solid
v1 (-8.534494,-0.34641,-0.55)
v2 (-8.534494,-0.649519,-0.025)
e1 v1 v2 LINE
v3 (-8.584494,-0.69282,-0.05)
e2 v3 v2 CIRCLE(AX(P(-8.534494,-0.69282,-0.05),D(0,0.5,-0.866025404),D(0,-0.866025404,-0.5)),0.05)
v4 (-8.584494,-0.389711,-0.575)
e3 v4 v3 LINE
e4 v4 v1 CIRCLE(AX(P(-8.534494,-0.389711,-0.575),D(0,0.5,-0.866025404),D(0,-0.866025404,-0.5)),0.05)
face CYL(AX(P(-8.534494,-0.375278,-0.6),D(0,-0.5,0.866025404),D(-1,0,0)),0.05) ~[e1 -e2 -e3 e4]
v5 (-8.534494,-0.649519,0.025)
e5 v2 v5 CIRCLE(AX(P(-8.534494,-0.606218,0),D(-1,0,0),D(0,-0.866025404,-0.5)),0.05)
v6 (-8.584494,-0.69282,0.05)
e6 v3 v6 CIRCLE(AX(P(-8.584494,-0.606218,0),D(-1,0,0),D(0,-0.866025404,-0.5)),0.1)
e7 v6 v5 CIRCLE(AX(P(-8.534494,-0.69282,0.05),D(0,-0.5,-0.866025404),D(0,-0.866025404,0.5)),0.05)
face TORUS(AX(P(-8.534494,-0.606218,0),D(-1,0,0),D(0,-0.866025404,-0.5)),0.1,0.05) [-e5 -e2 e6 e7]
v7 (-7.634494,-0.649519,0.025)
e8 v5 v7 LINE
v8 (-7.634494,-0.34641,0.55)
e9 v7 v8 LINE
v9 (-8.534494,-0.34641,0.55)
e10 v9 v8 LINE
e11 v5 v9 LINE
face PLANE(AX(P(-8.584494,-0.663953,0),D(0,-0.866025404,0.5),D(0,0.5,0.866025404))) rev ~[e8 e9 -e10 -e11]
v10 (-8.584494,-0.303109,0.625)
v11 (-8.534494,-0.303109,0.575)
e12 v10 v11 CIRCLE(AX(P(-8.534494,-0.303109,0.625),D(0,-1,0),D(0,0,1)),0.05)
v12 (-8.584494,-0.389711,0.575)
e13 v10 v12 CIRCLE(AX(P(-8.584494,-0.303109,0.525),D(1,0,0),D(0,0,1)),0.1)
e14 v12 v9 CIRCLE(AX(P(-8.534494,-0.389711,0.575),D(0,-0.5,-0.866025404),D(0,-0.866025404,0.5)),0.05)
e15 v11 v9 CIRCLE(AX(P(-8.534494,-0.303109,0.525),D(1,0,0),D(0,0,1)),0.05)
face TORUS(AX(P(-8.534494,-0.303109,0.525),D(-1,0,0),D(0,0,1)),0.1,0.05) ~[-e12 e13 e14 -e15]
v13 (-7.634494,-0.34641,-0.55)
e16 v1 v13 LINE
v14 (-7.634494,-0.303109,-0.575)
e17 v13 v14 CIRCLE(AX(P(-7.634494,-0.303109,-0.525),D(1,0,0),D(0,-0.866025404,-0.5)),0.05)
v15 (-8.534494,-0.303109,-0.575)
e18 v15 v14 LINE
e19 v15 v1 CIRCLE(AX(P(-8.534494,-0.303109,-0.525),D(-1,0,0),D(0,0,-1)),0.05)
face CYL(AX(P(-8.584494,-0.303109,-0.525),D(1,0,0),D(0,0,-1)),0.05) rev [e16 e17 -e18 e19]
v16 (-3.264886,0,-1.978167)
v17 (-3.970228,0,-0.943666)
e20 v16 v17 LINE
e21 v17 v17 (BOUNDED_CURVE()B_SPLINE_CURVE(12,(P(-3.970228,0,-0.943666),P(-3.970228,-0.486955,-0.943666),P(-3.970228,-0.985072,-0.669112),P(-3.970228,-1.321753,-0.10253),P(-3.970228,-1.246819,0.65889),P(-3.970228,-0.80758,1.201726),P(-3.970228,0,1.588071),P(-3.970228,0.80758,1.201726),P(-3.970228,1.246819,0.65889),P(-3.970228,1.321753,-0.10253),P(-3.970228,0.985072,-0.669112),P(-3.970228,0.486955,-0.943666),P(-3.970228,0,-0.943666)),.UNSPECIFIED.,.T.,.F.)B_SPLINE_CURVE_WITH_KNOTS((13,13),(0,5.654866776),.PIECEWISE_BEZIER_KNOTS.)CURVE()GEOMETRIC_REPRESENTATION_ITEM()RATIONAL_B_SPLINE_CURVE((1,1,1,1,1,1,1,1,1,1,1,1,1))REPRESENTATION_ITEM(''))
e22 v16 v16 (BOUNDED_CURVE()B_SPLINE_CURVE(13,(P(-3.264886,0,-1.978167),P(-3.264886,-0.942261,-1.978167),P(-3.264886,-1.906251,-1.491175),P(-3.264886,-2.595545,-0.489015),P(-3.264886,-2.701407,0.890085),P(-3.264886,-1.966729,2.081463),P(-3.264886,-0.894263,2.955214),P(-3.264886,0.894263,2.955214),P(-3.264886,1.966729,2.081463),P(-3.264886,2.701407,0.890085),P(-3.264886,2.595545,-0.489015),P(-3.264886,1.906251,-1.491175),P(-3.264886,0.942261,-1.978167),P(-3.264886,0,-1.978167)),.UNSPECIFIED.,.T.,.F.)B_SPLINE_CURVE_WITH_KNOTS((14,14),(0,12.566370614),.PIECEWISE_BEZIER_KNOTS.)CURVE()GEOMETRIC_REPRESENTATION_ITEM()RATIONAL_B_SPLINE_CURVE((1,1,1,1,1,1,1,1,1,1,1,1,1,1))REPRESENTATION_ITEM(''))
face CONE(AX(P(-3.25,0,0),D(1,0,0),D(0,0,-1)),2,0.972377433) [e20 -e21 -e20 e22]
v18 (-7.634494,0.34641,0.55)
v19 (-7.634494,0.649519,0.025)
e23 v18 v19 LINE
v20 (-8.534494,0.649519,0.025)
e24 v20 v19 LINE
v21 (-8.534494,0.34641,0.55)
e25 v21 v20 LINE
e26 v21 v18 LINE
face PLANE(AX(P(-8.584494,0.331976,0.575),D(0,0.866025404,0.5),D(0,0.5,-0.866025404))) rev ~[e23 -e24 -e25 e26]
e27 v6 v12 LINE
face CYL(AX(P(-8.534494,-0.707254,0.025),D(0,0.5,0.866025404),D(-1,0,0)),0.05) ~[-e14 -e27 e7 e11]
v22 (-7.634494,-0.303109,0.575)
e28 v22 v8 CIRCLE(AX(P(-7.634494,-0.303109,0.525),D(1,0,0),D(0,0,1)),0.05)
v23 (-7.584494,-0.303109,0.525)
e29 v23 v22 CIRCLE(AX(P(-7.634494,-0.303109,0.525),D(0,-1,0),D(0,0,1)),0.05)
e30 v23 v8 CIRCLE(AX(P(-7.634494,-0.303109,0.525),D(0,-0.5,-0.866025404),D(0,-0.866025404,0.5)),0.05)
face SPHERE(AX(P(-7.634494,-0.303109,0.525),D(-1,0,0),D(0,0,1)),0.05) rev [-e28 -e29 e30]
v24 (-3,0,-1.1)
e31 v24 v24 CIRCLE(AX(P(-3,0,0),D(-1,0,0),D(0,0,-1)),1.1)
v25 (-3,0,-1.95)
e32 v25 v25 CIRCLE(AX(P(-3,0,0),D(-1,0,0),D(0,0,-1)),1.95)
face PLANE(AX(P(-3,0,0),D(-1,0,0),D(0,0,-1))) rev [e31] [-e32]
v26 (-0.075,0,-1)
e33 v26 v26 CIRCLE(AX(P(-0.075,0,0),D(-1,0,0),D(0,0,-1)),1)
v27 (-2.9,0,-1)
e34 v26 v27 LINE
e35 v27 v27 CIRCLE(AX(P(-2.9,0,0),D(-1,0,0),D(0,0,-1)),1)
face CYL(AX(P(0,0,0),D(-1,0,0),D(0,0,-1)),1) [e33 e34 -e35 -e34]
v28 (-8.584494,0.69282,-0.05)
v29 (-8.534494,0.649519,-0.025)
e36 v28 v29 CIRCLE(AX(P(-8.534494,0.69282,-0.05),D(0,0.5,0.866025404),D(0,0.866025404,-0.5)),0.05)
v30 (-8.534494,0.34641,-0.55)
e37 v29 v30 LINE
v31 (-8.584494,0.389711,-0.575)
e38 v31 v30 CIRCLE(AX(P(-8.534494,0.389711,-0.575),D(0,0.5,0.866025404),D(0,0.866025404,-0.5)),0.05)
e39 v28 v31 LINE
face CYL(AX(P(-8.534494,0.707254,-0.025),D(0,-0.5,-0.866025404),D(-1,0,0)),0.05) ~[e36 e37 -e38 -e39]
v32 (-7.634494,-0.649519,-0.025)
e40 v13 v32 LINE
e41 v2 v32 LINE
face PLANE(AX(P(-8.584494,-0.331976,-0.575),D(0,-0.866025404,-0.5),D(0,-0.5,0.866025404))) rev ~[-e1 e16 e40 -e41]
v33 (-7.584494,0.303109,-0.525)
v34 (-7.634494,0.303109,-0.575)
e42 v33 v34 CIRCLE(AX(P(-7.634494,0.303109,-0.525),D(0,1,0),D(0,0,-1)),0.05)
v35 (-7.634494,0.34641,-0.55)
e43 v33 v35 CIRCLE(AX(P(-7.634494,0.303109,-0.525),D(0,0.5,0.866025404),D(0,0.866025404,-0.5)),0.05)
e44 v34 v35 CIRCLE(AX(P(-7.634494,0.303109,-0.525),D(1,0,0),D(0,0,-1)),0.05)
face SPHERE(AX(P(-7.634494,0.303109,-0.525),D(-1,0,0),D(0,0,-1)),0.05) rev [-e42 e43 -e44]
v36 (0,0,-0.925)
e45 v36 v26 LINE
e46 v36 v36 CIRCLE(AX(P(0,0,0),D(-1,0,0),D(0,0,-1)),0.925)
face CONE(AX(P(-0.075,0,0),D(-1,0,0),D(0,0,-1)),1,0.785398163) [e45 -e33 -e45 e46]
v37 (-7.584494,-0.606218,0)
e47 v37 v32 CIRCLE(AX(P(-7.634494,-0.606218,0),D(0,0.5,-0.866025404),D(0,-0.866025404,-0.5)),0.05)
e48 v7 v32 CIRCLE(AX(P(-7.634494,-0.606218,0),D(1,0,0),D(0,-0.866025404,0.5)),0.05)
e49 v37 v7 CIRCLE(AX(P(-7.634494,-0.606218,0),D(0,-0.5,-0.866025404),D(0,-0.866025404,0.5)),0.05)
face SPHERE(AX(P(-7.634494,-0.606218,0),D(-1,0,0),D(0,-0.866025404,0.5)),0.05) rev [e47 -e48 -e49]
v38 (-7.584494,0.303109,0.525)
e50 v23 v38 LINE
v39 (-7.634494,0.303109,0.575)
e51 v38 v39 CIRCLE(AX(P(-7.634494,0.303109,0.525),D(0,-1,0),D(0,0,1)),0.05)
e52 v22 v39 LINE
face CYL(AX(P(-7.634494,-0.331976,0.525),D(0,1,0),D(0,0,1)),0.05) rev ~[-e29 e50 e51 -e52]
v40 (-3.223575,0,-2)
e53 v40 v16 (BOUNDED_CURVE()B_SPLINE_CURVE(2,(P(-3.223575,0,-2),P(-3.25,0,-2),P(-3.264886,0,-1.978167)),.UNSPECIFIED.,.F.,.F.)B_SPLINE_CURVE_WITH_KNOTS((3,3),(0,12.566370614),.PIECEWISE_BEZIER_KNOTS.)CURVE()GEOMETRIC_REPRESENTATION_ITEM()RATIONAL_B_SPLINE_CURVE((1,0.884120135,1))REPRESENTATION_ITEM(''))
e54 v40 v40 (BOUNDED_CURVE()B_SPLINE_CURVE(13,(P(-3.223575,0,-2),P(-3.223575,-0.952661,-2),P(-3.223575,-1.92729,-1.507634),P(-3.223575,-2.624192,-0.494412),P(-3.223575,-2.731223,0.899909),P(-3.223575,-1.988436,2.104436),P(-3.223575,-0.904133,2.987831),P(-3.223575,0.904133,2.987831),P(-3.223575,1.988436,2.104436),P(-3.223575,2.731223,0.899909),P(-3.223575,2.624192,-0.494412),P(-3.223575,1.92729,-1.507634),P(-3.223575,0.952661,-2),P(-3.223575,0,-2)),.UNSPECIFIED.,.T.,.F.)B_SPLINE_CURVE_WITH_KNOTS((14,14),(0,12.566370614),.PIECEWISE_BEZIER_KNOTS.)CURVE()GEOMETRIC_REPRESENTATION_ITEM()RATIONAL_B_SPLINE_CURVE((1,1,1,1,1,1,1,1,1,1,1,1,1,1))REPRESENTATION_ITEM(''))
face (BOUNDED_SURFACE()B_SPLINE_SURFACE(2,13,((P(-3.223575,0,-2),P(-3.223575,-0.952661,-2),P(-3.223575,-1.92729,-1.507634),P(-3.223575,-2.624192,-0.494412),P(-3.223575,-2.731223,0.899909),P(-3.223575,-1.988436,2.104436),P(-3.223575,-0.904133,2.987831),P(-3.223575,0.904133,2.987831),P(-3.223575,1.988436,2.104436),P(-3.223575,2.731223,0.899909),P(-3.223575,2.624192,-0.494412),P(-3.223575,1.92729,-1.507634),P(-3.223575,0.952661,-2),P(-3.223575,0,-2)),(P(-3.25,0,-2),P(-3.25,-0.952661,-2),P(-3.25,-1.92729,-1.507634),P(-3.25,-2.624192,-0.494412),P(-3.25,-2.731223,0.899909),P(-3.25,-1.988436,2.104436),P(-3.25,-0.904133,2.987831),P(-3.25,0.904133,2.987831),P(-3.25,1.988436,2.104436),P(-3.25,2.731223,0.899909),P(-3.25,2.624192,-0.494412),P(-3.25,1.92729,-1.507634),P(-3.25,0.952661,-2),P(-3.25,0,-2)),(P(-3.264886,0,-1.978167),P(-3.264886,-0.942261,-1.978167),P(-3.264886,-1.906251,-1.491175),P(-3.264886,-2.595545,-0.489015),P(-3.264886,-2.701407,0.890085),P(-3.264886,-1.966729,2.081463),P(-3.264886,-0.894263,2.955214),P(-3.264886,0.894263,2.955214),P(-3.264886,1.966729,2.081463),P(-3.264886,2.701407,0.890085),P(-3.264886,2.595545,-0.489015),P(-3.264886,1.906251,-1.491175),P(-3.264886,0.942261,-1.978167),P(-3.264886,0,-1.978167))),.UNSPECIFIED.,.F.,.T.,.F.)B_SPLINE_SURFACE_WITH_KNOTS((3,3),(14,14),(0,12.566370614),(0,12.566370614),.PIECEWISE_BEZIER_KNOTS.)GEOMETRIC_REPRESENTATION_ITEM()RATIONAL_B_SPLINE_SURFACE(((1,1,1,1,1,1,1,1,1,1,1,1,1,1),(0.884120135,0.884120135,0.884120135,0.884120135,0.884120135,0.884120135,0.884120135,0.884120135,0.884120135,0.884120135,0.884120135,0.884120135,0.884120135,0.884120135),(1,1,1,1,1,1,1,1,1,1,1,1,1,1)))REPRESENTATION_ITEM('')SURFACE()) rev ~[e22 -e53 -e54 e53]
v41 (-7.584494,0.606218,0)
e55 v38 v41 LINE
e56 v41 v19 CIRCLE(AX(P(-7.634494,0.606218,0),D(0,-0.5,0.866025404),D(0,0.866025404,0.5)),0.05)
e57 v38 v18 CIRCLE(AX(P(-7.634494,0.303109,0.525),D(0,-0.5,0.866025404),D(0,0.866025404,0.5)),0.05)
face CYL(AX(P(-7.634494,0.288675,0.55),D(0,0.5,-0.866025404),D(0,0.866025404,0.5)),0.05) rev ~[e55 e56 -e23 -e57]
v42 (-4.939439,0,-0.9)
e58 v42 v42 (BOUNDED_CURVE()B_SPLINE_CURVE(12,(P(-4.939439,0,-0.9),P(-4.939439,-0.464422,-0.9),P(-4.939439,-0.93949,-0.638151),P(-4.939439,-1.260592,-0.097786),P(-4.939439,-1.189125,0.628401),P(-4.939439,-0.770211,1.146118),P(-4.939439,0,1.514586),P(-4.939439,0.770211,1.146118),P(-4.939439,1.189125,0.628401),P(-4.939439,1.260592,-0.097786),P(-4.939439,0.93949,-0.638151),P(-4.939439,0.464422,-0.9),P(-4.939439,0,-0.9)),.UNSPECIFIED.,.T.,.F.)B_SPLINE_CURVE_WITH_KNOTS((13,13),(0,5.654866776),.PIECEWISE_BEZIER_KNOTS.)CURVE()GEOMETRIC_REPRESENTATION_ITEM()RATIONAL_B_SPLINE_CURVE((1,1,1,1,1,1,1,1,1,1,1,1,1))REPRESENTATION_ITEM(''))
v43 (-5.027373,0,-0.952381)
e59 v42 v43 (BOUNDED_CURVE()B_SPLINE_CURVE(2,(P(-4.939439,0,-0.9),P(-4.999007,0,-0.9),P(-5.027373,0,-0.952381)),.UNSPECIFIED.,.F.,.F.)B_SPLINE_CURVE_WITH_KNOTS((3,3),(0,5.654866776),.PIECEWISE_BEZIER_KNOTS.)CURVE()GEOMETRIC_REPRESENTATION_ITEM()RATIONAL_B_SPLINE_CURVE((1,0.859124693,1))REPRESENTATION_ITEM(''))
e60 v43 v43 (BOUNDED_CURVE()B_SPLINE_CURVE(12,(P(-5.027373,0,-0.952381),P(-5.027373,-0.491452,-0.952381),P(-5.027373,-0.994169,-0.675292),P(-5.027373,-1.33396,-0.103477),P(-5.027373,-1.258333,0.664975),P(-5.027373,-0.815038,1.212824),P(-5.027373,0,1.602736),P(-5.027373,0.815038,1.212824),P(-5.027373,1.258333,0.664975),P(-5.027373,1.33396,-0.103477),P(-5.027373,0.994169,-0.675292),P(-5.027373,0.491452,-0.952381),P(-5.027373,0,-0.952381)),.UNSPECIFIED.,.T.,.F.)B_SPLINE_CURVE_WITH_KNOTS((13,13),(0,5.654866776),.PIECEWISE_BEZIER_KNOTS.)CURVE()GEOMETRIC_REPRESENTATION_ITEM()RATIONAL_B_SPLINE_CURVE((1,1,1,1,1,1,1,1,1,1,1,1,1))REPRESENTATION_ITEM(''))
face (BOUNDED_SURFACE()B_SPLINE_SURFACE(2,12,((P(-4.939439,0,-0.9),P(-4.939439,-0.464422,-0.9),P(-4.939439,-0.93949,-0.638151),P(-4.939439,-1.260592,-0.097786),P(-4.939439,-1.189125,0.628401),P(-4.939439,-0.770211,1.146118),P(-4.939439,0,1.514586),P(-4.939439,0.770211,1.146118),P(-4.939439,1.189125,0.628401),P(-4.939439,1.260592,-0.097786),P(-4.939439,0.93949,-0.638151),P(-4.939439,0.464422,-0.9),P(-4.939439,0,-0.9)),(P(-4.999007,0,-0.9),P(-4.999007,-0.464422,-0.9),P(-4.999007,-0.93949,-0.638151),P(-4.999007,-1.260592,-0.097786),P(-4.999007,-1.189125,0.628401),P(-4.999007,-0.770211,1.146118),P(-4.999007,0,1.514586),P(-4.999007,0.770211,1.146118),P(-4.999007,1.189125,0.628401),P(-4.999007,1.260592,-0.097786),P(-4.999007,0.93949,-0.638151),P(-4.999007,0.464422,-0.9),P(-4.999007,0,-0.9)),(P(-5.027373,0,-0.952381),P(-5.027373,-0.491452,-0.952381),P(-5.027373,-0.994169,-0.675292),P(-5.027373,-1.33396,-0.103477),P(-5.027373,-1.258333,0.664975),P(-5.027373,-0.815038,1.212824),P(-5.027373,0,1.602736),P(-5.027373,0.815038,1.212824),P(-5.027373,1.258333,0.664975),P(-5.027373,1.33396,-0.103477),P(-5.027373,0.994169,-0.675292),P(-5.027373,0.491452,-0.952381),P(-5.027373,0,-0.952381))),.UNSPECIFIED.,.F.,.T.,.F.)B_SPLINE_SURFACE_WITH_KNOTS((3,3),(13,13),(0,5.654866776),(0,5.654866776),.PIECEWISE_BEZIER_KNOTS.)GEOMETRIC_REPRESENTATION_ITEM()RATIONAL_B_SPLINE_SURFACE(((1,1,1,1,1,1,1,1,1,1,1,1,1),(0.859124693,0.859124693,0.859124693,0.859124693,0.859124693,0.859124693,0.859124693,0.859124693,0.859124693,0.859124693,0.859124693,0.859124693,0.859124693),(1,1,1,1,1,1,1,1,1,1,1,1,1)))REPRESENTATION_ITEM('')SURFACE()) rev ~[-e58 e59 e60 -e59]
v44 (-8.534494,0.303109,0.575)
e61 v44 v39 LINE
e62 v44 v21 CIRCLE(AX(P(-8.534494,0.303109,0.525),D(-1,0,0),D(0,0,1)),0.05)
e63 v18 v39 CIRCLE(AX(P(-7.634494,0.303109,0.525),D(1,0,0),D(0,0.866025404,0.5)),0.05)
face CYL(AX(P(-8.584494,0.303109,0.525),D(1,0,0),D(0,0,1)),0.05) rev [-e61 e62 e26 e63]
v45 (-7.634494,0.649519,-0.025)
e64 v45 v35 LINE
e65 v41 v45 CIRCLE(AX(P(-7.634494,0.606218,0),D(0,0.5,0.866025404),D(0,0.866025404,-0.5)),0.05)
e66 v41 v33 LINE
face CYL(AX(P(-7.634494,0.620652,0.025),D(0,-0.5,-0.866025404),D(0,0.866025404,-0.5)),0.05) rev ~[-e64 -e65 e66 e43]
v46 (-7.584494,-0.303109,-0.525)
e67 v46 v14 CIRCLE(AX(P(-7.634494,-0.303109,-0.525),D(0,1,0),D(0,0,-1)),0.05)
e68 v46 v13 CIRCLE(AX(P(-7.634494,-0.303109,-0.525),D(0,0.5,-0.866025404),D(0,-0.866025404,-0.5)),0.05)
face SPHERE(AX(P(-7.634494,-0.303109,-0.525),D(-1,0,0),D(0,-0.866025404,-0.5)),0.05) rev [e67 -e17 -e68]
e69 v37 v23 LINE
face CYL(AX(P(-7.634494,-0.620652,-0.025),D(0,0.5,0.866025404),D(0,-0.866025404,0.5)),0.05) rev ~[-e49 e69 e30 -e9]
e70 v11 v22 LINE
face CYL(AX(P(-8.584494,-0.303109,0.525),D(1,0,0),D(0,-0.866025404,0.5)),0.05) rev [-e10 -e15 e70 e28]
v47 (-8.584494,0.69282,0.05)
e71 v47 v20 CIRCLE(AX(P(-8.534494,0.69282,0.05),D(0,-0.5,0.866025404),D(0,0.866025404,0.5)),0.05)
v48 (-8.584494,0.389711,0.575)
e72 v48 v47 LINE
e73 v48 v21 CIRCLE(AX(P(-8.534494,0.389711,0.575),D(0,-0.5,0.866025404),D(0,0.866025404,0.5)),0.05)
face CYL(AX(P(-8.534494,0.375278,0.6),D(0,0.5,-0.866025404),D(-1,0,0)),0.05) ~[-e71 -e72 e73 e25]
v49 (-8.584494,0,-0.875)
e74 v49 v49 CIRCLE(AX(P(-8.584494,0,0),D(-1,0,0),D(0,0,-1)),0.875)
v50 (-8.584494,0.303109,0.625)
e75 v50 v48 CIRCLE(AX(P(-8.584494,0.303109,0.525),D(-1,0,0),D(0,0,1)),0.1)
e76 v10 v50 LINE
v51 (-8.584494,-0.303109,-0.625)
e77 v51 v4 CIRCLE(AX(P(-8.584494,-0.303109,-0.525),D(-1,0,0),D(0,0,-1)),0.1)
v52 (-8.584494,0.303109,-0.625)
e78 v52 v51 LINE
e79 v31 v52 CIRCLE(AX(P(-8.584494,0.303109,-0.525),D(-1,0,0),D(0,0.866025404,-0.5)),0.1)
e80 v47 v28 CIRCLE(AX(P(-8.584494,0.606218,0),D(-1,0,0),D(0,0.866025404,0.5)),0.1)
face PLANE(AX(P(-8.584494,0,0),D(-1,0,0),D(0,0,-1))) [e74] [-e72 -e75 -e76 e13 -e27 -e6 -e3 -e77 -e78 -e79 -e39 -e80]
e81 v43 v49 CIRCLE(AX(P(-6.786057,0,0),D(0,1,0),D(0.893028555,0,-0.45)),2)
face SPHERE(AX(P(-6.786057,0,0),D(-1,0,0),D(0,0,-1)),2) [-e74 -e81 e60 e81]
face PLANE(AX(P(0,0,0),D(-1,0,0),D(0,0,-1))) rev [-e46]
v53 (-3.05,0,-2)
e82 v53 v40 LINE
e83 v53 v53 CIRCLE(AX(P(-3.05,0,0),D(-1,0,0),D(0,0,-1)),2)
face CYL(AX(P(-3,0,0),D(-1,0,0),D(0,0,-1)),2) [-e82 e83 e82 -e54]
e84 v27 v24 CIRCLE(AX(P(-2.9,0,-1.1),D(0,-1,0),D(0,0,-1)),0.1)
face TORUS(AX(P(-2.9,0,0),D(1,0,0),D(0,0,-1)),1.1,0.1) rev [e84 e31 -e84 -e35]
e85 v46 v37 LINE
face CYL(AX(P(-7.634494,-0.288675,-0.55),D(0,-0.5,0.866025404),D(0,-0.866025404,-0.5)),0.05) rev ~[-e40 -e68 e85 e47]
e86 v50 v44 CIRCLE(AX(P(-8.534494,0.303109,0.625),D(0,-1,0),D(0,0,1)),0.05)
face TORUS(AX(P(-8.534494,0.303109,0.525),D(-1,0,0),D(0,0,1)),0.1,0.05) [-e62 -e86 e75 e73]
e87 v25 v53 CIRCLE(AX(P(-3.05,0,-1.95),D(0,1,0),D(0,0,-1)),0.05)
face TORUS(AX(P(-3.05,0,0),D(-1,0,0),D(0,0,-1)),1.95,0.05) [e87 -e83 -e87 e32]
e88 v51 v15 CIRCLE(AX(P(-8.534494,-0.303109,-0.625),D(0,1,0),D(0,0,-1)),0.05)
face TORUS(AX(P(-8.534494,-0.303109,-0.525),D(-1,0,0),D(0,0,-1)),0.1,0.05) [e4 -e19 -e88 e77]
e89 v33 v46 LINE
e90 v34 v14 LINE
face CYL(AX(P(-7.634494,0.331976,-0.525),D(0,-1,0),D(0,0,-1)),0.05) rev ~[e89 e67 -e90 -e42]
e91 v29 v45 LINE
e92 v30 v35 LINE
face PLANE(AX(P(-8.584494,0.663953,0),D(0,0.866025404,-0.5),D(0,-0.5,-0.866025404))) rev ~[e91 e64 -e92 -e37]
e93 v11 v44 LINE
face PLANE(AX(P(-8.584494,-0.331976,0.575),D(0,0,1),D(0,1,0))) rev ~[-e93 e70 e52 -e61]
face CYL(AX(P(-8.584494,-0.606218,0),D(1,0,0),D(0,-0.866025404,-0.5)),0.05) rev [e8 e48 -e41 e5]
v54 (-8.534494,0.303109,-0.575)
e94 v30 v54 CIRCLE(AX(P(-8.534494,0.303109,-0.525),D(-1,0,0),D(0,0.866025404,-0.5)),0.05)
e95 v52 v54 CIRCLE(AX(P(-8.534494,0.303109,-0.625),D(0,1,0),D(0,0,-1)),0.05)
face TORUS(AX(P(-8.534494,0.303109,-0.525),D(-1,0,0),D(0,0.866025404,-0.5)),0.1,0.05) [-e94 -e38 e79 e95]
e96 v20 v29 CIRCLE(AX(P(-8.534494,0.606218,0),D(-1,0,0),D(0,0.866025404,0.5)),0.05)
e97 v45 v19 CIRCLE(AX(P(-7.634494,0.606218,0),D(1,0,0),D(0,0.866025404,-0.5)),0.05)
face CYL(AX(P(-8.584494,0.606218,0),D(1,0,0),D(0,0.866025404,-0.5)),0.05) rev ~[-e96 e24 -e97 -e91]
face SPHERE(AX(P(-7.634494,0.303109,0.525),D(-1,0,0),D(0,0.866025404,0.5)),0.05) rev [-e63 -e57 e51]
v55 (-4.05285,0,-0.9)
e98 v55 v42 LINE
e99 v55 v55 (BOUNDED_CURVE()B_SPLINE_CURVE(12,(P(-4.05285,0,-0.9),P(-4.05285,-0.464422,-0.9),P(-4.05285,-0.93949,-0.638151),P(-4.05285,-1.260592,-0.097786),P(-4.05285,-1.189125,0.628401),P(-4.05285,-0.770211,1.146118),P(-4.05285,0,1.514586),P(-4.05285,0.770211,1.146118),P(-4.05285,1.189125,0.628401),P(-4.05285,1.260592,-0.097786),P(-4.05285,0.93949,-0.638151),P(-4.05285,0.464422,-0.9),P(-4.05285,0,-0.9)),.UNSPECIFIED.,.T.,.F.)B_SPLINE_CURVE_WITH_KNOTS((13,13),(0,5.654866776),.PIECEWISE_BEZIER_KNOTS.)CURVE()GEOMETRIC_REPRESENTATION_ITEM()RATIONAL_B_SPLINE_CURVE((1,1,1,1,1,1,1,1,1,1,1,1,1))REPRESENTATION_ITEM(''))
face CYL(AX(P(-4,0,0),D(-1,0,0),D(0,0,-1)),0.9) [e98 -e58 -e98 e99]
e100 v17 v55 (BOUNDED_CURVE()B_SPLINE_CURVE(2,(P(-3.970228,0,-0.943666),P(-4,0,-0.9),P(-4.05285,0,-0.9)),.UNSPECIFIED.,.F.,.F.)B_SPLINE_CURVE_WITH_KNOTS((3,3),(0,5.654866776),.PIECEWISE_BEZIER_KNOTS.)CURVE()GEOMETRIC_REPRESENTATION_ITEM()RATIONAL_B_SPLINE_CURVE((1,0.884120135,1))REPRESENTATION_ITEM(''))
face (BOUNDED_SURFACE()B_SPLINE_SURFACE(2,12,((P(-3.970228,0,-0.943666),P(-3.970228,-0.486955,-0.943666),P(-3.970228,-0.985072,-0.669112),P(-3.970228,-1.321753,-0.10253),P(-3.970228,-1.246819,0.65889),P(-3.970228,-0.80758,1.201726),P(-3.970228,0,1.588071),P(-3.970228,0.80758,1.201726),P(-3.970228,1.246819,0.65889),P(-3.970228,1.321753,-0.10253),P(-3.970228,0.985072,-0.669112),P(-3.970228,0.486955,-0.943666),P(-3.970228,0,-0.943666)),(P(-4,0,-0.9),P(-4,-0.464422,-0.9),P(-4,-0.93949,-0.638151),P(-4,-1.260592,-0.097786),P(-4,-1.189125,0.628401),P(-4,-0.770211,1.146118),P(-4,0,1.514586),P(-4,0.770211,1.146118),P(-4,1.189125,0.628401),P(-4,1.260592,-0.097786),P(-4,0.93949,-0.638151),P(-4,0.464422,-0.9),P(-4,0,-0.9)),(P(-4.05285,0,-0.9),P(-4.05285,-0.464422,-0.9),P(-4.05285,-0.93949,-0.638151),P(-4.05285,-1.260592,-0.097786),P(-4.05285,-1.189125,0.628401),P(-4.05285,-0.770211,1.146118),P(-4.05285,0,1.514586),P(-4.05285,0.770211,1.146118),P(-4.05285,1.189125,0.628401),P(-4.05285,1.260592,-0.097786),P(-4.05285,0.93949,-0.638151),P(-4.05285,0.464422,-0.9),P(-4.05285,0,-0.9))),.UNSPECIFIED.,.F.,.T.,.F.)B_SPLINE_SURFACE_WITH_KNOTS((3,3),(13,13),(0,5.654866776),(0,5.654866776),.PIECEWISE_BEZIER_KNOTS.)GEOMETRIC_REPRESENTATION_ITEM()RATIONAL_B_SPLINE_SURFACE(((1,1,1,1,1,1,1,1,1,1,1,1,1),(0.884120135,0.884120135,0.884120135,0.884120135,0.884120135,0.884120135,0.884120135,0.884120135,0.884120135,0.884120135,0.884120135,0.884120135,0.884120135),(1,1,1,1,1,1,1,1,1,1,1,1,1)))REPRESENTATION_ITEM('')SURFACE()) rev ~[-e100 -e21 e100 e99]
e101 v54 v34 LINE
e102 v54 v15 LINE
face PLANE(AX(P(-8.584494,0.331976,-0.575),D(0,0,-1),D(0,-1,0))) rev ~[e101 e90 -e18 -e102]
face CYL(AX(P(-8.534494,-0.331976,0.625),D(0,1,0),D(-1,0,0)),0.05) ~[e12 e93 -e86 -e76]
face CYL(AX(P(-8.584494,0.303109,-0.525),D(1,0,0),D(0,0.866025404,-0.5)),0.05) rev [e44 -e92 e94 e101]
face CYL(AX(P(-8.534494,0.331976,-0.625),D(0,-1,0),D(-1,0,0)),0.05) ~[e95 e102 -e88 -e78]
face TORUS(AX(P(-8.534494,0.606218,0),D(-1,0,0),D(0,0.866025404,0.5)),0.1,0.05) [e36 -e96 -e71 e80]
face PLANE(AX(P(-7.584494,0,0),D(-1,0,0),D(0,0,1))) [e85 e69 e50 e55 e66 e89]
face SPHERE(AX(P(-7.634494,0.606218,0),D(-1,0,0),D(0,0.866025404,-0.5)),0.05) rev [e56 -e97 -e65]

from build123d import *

# Parameters (mm, degrees)
CHAMFER1_SIZE      = 0.075
FILLET1_R          = 0.1
FILLET2_R          = 0.05
CUT_EXTRUDE1_DEPTH = 1
FILLET3_R          = 0.05


with BuildPart() as part:
    # Sketch1 → Revolve1 (revolve)
    with BuildSketch(Plane.XY, mode=Mode.PRIVATE) as revolve1_sk:
        with BuildLine():
            Line((0, 0), (0, 1))
            Line((0, 1), (-3, 1))
            Line((-3, 1), (-3, 2))
            Line((-3, 2), (-3.25, 2))
            Line((-3.25, 2), (-4, 0.9))
            Line((-4, 0.9), (-5, 0.9))
            ThreePointArc((-5, 0.9), (-6.800005741, 1.999951358), (-8.584493931, 0.875))
            Line((-8.584493931, 0.875), (-8.584493931, 0))
            Line((-8.584493931, 0), (-5, 0))
            Line((-5, 0), (0, 0))
        make_face()
    revolve(revolve1_sk.sketch.rotate(Axis((0, 0, 0), (-1, 0, 0)), 90), axis=Axis((0, 0, 0), (-1, 0, 0)))

    # Chamfer1
    chamfer1_edges = [part.edges().sort_by_distance(p)[0] for p in [
        (0, 0, 1),
    ]]
    chamfer(chamfer1_edges, length=CHAMFER1_SIZE)

    # Fillet1
    fillet1_edges = [part.edges().sort_by_distance(p)[0] for p in [
        (-4, 0, 0.9),
        (-5, 0, 0.9),
        (-3, 0, 1),
    ]]
    fillet(fillet1_edges, radius=FILLET1_R)

    # Fillet2
    fillet2_edges = [part.edges().sort_by_distance(p)[0] for p in [
        (-3, 0, 2),
        (-3.25, 0, 2),
    ]]
    fillet(fillet2_edges, radius=FILLET2_R)

    # Sketch3 → Cut-Extrude1 (cut)
    with BuildSketch(Plane.ZY.offset(8.584493931)):
        Polygon((0, 0.66395281), (-0.575, 0.331976405), (-0.575, -0.331976405), (0, -0.66395281), (0.575, -0.331976405), (0.575, 0.331976405), align=None)
    extrude(amount=-CUT_EXTRUDE1_DEPTH, mode=Mode.SUBTRACT)

    # Fillet3
    fillet3_edges = [part.edges().sort_by_distance(p)[0] for p in [
        (-7.584493931, 0, 0.575),
        (-8.084493931, 0.331976405, 0.575),
        (-7.584493931, -0.497964607, 0.2875),
        (-8.084493931, -0.331976405, 0.575),
        (-7.584493931, -0.497964607, -0.2875),
        (-8.084493931, -0.66395281, 0),
        (-7.584493931, 0, -0.575),
        (-8.084493931, -0.331976405, -0.575),
        (-7.584493931, 0.497964607, -0.2875),
        (-8.084493931, 0.331976405, -0.575),
        (-7.584493931, 0.497964607, 0.2875),
        (-8.084493931, 0.66395281, 0),
        (-8.584493931, 0, 0.575),
        (-8.584493931, 0.497964607, 0.2875),
        (-8.584493931, 0.497964607, -0.2875),
        (-8.584493931, 0, -0.575),
        (-8.584493931, -0.497964607, -0.2875),
        (-8.584493931, -0.497964607, 0.2875),
    ]]
    fillet(fillet3_edges, radius=FILLET3_R)


solid = part.part
